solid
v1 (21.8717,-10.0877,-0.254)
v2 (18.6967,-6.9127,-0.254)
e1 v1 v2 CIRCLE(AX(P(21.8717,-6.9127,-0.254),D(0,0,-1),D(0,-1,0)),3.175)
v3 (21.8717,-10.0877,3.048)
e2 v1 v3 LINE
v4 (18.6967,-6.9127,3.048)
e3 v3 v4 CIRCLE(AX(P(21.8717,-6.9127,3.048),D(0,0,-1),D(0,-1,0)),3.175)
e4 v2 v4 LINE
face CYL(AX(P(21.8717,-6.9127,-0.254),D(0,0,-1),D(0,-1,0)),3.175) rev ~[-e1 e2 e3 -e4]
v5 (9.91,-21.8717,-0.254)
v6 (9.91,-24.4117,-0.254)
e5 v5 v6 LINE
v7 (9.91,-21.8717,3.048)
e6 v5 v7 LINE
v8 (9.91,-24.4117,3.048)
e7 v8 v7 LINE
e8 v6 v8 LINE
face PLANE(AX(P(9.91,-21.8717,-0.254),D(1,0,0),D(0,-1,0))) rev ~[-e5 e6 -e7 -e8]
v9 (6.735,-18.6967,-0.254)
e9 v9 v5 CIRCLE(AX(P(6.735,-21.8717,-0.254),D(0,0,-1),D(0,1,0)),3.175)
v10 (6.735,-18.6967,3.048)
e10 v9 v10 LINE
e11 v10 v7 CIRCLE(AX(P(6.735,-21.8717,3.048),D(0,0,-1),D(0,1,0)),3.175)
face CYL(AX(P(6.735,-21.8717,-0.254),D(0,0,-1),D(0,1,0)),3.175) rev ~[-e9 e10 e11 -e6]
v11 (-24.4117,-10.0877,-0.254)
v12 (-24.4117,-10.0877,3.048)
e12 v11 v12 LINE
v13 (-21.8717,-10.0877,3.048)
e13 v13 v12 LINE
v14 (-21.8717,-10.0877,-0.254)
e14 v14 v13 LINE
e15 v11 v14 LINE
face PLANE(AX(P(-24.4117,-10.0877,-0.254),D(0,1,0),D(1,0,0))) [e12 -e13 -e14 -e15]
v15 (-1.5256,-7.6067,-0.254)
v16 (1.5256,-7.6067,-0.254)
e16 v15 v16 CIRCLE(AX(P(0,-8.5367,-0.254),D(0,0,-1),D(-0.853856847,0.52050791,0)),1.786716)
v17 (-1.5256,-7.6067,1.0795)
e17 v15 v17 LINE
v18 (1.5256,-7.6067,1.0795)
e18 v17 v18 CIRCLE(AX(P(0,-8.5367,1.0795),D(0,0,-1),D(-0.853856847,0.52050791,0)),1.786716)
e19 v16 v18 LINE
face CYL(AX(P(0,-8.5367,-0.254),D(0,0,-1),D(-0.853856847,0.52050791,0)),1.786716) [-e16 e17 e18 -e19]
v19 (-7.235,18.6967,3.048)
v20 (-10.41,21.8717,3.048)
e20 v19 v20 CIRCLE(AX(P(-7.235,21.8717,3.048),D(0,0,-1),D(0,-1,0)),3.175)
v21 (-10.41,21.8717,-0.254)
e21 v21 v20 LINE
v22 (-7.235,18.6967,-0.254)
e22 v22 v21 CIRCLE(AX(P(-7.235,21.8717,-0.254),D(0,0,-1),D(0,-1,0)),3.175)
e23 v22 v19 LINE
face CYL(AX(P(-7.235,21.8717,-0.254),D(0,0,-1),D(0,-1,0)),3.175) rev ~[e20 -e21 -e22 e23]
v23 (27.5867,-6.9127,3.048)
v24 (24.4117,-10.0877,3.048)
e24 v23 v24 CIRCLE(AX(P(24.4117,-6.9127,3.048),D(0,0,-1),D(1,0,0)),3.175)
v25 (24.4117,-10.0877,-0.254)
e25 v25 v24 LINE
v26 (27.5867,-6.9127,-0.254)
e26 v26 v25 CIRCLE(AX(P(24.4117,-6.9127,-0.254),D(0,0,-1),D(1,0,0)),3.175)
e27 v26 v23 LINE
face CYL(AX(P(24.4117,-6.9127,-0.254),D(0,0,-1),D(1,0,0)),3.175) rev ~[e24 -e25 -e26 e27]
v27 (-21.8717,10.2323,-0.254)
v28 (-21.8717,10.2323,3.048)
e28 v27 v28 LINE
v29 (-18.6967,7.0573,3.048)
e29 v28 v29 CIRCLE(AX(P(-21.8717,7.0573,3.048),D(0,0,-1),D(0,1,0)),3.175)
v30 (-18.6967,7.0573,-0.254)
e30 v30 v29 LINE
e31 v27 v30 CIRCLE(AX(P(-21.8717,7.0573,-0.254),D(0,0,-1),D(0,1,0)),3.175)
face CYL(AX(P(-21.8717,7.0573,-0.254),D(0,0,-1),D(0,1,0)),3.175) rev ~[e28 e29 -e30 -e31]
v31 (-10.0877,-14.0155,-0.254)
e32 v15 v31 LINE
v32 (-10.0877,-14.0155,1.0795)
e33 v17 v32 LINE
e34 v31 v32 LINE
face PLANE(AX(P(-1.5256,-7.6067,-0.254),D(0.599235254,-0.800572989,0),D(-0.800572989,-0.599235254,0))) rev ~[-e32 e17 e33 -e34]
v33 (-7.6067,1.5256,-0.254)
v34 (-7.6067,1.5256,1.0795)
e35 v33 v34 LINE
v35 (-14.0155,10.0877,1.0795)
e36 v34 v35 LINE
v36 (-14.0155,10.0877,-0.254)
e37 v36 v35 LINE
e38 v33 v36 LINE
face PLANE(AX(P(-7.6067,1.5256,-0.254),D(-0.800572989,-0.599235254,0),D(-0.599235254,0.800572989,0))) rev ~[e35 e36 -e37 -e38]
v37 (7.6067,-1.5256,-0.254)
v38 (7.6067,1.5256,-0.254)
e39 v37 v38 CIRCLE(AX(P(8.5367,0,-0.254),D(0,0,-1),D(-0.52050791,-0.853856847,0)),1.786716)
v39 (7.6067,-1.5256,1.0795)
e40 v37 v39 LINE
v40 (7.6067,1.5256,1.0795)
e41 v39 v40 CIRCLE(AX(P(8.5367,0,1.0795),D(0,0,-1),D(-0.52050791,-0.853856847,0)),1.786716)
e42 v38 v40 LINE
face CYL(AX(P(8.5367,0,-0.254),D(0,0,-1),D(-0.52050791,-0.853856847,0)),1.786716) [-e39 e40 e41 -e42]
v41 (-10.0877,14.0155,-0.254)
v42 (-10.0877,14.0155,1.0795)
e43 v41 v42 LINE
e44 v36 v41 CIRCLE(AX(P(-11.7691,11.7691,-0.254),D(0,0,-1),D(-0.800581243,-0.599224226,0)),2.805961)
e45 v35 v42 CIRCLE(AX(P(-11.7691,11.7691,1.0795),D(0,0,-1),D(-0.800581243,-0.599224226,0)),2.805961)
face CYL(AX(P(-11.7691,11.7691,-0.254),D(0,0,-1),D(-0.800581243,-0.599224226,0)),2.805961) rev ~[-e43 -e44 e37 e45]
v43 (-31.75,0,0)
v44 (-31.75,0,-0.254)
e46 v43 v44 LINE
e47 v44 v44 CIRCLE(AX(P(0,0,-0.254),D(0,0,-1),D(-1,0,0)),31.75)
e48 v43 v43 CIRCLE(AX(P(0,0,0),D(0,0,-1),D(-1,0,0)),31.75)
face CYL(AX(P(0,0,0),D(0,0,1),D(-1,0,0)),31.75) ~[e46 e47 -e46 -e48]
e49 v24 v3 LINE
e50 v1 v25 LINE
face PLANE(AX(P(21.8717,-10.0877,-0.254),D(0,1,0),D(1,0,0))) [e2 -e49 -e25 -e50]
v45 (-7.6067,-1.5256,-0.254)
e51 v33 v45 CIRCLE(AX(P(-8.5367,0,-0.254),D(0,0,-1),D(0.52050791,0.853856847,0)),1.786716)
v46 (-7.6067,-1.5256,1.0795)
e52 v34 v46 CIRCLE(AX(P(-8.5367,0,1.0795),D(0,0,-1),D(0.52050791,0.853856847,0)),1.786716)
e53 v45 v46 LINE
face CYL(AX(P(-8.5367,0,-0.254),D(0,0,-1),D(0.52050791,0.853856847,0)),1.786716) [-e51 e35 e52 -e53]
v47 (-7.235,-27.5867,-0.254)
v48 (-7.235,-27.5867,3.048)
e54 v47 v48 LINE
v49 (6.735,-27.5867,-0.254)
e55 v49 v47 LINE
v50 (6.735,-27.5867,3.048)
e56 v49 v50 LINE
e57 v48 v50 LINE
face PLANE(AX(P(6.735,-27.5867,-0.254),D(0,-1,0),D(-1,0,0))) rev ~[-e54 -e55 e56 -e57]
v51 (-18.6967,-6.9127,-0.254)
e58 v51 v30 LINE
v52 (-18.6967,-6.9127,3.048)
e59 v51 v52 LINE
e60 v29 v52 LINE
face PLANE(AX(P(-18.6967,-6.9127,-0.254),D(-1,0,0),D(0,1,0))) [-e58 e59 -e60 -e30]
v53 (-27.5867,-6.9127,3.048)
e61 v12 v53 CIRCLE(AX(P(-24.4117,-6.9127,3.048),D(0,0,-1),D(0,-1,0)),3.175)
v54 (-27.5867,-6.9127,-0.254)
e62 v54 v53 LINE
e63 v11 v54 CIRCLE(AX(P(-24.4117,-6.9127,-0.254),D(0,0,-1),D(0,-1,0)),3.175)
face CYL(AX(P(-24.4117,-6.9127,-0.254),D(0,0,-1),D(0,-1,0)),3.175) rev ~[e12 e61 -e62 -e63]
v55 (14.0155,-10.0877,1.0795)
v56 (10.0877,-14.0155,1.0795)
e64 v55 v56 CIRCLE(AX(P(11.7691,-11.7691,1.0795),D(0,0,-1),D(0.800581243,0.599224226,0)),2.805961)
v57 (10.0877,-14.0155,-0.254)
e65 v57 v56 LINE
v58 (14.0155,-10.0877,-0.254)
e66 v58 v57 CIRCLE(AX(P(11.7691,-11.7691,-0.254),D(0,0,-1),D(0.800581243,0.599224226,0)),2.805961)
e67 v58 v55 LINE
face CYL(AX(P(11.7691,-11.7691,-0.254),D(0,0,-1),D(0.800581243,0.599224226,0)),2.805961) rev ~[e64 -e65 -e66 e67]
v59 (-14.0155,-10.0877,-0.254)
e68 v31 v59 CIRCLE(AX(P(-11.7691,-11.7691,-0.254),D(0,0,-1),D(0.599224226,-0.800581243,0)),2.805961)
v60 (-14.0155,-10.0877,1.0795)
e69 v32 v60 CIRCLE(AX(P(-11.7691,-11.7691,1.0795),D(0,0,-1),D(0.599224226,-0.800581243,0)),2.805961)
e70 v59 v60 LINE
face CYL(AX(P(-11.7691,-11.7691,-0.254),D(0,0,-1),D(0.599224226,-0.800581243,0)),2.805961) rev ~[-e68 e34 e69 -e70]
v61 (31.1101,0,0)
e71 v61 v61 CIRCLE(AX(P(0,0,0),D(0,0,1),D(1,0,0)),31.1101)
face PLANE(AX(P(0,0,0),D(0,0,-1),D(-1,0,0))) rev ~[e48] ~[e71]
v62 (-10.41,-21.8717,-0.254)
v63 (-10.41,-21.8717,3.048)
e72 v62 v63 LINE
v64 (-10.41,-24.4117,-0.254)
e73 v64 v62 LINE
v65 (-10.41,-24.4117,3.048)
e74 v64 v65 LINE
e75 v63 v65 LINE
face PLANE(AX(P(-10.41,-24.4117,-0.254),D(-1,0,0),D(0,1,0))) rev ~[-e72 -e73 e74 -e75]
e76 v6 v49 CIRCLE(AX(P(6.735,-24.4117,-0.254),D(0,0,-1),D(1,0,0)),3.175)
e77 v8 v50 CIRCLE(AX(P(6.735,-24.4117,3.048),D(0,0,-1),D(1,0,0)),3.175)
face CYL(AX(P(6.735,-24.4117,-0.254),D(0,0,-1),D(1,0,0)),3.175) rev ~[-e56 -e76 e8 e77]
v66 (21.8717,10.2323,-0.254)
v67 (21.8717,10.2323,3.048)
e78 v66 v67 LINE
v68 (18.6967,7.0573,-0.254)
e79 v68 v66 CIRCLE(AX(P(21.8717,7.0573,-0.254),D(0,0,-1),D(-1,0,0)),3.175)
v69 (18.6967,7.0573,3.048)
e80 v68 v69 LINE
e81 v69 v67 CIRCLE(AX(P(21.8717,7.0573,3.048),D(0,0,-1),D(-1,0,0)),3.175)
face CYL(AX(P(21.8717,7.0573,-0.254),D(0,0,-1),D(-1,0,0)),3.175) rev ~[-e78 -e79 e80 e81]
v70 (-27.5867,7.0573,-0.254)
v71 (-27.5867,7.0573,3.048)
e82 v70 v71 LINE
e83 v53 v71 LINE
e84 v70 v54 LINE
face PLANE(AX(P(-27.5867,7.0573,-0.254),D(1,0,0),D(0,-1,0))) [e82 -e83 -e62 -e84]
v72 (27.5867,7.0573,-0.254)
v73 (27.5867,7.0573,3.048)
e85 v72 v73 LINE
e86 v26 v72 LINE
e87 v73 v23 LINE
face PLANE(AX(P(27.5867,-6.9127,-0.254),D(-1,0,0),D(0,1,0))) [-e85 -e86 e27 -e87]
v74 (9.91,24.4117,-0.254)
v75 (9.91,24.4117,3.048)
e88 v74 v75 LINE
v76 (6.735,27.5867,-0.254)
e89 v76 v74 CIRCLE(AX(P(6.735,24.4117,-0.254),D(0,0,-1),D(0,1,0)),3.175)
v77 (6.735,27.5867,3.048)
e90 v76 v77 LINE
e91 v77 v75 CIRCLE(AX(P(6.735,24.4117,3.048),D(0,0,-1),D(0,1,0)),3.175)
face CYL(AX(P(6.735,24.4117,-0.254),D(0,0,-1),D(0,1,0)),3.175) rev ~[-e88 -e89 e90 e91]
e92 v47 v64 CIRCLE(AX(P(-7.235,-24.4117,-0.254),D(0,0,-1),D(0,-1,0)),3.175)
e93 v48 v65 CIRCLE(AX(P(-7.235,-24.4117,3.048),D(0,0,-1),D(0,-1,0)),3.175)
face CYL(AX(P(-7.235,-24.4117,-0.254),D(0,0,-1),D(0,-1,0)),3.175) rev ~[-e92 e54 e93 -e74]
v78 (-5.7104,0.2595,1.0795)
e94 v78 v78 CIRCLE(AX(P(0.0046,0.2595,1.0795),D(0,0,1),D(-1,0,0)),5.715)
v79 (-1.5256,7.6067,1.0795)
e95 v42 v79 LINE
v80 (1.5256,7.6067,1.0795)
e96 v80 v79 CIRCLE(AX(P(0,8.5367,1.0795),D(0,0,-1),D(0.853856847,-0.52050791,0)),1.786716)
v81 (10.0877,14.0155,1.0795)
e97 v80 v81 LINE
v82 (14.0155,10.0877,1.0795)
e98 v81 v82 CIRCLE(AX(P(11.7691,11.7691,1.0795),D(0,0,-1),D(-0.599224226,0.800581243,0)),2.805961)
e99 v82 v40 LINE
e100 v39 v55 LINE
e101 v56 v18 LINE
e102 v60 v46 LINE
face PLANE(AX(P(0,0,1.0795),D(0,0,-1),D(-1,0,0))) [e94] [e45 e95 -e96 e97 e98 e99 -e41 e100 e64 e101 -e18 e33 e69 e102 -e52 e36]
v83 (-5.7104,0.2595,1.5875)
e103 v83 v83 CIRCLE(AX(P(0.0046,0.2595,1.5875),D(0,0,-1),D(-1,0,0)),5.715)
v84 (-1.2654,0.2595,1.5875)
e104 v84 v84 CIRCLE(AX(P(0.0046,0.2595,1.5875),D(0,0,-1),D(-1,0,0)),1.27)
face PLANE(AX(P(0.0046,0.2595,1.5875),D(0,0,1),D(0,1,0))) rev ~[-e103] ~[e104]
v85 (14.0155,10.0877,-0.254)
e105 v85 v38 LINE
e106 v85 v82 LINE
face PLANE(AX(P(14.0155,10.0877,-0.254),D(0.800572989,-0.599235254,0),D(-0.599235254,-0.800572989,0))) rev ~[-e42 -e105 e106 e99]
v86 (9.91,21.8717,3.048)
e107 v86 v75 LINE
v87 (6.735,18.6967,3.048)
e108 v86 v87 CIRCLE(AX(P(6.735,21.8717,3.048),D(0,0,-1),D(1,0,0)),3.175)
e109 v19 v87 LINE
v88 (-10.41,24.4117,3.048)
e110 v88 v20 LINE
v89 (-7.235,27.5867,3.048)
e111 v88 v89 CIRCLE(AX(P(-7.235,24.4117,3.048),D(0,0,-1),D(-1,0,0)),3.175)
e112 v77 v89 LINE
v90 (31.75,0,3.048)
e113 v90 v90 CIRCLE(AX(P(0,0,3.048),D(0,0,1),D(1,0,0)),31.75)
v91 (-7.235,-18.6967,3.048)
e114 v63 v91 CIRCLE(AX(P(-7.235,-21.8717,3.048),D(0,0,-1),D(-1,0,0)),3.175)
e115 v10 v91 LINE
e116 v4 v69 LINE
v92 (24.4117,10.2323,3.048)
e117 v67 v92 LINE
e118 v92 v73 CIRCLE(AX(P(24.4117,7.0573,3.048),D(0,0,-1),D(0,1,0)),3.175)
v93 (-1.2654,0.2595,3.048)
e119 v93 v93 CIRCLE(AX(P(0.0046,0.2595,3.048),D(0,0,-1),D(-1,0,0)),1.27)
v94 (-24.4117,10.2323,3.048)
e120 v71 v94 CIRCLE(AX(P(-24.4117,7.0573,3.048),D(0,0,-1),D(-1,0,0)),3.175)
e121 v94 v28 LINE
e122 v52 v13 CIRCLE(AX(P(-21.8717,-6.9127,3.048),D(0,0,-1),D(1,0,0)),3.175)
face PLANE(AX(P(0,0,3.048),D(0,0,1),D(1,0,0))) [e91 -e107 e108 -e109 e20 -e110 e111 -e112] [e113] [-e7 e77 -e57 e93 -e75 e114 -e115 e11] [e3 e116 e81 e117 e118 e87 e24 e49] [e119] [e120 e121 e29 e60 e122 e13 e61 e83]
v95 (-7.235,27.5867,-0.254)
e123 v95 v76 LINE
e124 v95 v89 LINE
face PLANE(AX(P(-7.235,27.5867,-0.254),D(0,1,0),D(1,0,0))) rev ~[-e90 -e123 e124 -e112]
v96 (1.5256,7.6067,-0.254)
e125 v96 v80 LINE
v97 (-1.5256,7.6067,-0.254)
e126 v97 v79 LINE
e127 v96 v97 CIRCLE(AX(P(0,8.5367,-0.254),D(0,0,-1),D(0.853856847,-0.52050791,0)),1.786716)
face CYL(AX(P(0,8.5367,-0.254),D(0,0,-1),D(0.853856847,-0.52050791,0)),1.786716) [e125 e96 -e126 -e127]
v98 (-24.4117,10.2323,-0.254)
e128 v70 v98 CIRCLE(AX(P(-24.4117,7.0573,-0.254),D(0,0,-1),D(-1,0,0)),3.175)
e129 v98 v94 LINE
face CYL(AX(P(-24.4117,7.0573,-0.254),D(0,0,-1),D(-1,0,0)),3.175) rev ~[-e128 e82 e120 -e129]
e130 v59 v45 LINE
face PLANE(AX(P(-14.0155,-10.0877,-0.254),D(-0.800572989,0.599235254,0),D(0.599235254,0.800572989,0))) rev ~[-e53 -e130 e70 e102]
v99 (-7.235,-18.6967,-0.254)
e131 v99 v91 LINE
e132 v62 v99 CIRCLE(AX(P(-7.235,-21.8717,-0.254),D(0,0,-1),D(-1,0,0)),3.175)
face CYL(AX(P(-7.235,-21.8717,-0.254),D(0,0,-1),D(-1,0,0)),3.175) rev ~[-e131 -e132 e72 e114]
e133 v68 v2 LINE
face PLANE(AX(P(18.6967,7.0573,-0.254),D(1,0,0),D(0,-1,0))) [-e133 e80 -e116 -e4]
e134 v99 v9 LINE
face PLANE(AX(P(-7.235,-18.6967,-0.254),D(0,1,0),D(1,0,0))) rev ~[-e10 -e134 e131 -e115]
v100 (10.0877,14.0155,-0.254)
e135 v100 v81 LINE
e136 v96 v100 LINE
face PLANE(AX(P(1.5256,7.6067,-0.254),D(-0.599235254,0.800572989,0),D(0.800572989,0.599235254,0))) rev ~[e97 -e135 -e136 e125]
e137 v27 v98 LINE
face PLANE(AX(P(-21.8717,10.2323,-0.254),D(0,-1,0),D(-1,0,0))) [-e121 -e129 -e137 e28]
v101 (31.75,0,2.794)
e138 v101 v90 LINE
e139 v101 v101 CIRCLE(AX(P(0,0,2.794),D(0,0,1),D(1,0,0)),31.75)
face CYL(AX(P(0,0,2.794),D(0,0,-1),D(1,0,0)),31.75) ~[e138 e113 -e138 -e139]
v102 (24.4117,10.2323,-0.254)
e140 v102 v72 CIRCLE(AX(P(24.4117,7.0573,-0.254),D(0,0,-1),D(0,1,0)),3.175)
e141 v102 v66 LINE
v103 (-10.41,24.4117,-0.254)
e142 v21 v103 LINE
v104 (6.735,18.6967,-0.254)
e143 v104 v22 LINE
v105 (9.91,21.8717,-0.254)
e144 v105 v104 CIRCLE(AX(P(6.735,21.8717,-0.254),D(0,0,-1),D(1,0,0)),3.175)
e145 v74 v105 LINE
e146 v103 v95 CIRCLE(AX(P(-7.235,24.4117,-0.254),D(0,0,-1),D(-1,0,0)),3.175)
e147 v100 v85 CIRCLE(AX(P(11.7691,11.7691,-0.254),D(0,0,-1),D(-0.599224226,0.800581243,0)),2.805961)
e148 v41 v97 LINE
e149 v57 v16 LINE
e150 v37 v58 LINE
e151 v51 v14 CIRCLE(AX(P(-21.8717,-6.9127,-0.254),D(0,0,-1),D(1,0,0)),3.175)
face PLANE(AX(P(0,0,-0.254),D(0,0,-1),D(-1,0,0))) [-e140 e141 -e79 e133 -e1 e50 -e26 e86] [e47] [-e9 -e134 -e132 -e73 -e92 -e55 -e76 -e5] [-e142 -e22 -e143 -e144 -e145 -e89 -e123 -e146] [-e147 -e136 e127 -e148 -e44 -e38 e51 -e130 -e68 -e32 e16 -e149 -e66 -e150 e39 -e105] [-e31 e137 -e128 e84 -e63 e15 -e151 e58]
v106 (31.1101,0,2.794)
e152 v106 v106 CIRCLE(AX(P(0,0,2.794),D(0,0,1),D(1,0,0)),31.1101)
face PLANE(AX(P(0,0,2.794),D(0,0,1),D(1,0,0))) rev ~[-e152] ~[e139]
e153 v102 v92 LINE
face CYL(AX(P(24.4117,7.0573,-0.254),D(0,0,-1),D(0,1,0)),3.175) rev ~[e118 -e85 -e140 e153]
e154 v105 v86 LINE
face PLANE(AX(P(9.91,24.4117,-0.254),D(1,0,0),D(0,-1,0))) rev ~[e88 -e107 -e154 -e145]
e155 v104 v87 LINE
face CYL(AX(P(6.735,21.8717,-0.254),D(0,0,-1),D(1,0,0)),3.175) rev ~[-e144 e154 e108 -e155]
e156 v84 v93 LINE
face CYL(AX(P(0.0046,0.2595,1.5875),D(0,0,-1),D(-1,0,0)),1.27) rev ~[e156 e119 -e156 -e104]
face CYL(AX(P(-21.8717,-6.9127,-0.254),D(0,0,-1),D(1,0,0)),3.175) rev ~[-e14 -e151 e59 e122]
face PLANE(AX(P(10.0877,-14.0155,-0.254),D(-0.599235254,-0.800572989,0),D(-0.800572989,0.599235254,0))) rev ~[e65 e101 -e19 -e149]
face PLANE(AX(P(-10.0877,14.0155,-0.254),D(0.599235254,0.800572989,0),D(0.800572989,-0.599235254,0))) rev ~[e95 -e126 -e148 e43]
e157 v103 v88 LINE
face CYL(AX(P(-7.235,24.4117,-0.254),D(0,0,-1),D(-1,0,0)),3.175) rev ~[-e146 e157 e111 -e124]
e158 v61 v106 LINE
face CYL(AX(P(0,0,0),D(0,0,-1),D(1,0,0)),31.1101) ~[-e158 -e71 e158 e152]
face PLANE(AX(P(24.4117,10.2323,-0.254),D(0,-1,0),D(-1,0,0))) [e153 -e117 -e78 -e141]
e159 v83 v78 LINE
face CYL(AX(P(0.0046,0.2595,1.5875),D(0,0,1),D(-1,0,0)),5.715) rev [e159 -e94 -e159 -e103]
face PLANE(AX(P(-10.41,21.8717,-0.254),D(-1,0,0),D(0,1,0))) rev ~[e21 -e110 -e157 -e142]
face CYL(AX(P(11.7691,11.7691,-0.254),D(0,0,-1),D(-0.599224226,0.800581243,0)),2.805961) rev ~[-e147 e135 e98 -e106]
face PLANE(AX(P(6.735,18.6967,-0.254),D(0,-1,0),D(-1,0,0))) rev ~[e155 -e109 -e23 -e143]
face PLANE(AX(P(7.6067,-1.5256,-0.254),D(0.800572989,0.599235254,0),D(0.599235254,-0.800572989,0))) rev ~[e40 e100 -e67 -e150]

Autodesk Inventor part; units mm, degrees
ref_plane "YZ Plane" through (0, 0, 0) normal (1, 0, 0) x (0, 1, 0)
ref_plane "XZ Plane" through (0, 0, 0) normal (0, 1, 0) x (-1, 0, 0)
ref_plane "XY Plane" through (0, 0, 0) normal (0, 0, 1) x (1, 0, 0)
sketch "Sketch1" plane through (0, 0, 0) normal (0, 0, 1) x (1, 0, 0)
  circle A0 centre (0, 0) radius 31.1101
extrude "Extrusion1" add sketch "Sketch1" along normal blind 2.794
sketch "Sketch2" plane through (0, 0, 0) normal (0, 0, -1) x (-1, 0, 0)
  circle A0 centre (0, 0) radius 31.75
  dimension "d2" = 63.5
extrude "Extrusion2" add sketch "Sketch2" along normal blind 0.254
sketch "Sketch3" plane through (0, 0, 2.794) normal (0, 0, 1) x (1, 0, 0)
  circle A0 centre (0, 0) radius 31.75
  dimension "d5" = 63.5
extrude "Extrusion3" add sketch "Sketch3" along normal blind 0.254
sketch "Sketch4" plane through (0, 0, -0.254) normal (0, 0, -1) x (-1, 0, 0)
  arc A0 (-1.5256, 7.6067) -> (1.5256, 7.6067) centre (0, 8.5367) ccw
  line L0 (-1.5256, 7.6067) -> (-10.0877, 14.0155)
  arc A1 (-10.0877, 14.0155) -> (-14.0155, 10.0877) centre (-11.7691, 11.7691) ccw
  line L1 (-14.0155, 10.0877) -> (-7.6067, 1.5256)
  arc A2 (-7.6067, -1.5256) -> (-7.6067, 1.5256) centre (-8.5367, 0) ccw
  line L2 (-7.6067, -1.5256) -> (-14.0155, -10.0877)
  arc A3 (-14.0155, -10.0877) -> (-10.0877, -14.0155) centre (-11.7691, -11.7691) ccw
  line L3 (-10.0877, -14.0155) -> (-1.5256, -7.6067)
  arc A4 (1.5256, -7.6067) -> (-1.5256, -7.6067) centre (0, -8.5367) ccw
  line L4 (1.5256, -7.6067) -> (10.0877, -14.0155)
  arc A5 (10.0877, -14.0155) -> (14.0155, -10.0877) centre (11.7691, -11.7691) ccw
  line L5 (14.0155, -10.0877) -> (7.6067, -1.5256)
  arc A6 (7.6067, 1.5256) -> (7.6067, -1.5256) centre (8.5367, 0) ccw
  line L6 (7.6067, 1.5256) -> (14.0155, 10.0877)
  arc A7 (14.0155, 10.0877) -> (10.0877, 14.0155) centre (11.7691, 11.7691) ccw
  line L7 (10.0877, 14.0155) -> (1.5256, 7.6067)
  circle A8 centre (0, 0) radius 5.27
  circle A9 centre (-4.9144, 4.9144) radius 0.75
  circle A10 centre (-7.3893, 7.3893) radius 0.75
  circle A11 centre (-9.8641, 9.8641) radius 0.75
  circle A12 centre (-12.339, 12.339) radius 0.75
  circle A13 centre (-4.9144, -4.9144) radius 0.75
  circle A14 centre (-7.3893, -7.3893) radius 0.75
  circle A15 centre (-9.8641, -9.8641) radius 0.75
  circle A16 centre (-12.339, -12.339) radius 0.75
  circle A17 centre (4.9144, -4.9144) radius 0.75
  circle A18 centre (7.3893, -7.3893) radius 0.75
  circle A19 centre (9.8641, -9.8641) radius 0.75
  circle A20 centre (12.339, -12.339) radius 0.75
  circle A21 centre (4.9144, 4.9144) radius 0.75
  circle A22 centre (7.3893, 7.3893) radius 0.75
  circle A23 centre (9.8641, 9.8641) radius 0.75
  circle A24 centre (12.339, 12.339) radius 0.75
extrude "Extrusion4" cut sketch "Sketch4" against normal blind 1.3335 contours A0 L7 A7 L6 A6 L5 A5 L4 A4 L3 A3 L2 A2 L1 A1 L0 | A8 | A9 | A10 | A11 | A12 | A13 | A14 | A15 | A16 | A17 | A18 | A19 | A20 | A21 | A22 | A23 | A24
sketch "Sketch5" plane through (0, 0, -0.254) normal (0, 0, -1) x (-1, 0, 0)
  point P0 (0, 0)
hole "Hole1" at (0, 0, -0.254) direction (0, 0, 1) diameter 10.541 depth 1.5875
hole "Hole2" at (0.0046, 0.2595, 1.3335) direction (0, 0, 1) diameter 10.541 depth 0.254
sketch "Sketch6" plane through (0, 0, -0.254) normal (0, 0, -1) x (-1, 0, 0)
  line L0 (-6.735, 18.6967) -> (7.235, 18.6967)
  line L1 (10.41, 21.8717) -> (10.41, 24.4117)
  line L2 (7.235, 27.5867) -> (-6.735, 27.5867)
  line L3 (-9.91, 24.4117) -> (-9.91, 21.8717)
  line L4 (21.8717, 10.2323) -> (24.4117, 10.2323)
  line L5 (27.5867, 7.0573) -> (27.5867, -6.9127)
  line L6 (24.4117, -10.0877) -> (21.8717, -10.0877)
  line L7 (18.6967, -6.9127) -> (18.6967, 7.0573)
  arc A0 (7.6067, 1.5256) -> (7.6067, -1.5256) centre (8.5367, 0) ccw projected
  arc A1 (-1.5256, 7.6067) -> (1.5256, 7.6067) centre (0, 8.5367) ccw projected
  line L8 (-21.8717, -10.0877) -> (-24.4117, -10.0877)
  line L9 (-27.5867, -6.9127) -> (-27.5867, 7.0573)
  line L10 (-24.4117, 10.2323) -> (-21.8717, 10.2323)
  line L11 (-18.6967, 7.0573) -> (-18.6967, -6.9127)
  arc A2 (-7.6067, -1.5256) -> (-7.6067, 1.5256) centre (-8.5367, 0) ccw projected
  line L12 (7.235, -18.6967) -> (-6.735, -18.6967)
  line L13 (-9.91, -21.8717) -> (-9.91, -24.4117)
  line L14 (-6.735, -27.5867) -> (7.235, -27.5867)
  line L15 (10.41, -24.4117) -> (10.41, -21.8717)
  arc A3 (1.5256, -7.6067) -> (-1.5256, -7.6067) centre (0, -8.5367) ccw projected
  arc A4 (27.5867, 7.0573) -> (24.4117, 10.2323) centre (24.4117, 7.0573) ccw
  arc A5 (24.4117, -10.0877) -> (27.5867, -6.9127) centre (24.4117, -6.9127) ccw
  arc A6 (18.6967, -6.9127) -> (21.8717, -10.0877) centre (21.8717, -6.9127) ccw
  arc A7 (21.8717, 10.2323) -> (18.6967, 7.0573) centre (21.8717, 7.0573) ccw
  arc A8 (7.235, -27.5867) -> (10.41, -24.4117) centre (7.235, -24.4117) ccw
  arc A9 (-9.91, -24.4117) -> (-6.735, -27.5867) centre (-6.735, -24.4117) ccw
  arc A10 (-6.735, -18.6967) -> (-9.91, -21.8717) centre (-6.735, -21.8717) ccw
  arc A11 (10.41, -21.8717) -> (7.235, -18.6967) centre (7.235, -21.8717) ccw
  arc A12 (-6.735, 27.5867) -> (-9.91, 24.4117) centre (-6.735, 24.4117) ccw
  arc A13 (10.41, 24.4117) -> (7.235, 27.5867) centre (7.235, 24.4117) ccw
  arc A14 (-9.91, 21.8717) -> (-6.735, 18.6967) centre (-6.735, 21.8717) ccw
  arc A15 (7.235, 18.6967) -> (10.41, 21.8717) centre (7.235, 21.8717) ccw
  arc A16 (-27.5867, -6.9127) -> (-24.4117, -10.0877) centre (-24.4117, -6.9127) ccw
  arc A17 (-24.4117, 10.2323) -> (-27.5867, 7.0573) centre (-24.4117, 7.0573) ccw
  arc A18 (-21.8717, -10.0877) -> (-18.6967, -6.9127) centre (-21.8717, -6.9127) ccw
  arc A19 (-18.6967, 7.0573) -> (-21.8717, 10.2323) centre (-21.8717, 7.0573) ccw
  circle A20 centre (0, 0) radius 1.27
  point P0 (-9.91, 18.6967)
  point P1 (10.41, 27.5867)
  point P2 (10.41, 18.6967)
  point P3 (-9.91, 27.5867)
  point P4 (18.6967, 10.2323)
  point P5 (27.5867, -10.0877)
  point P6 (27.5867, 10.2323)
  point P7 (18.6967, -10.0877)
  point P8 (-18.6967, -10.0877)
  point P9 (-27.5867, 10.2323)
  point P10 (-27.5867, -10.0877)
  point P11 (-18.6967, 10.2323)
  point P12 (10.41, -18.6967)
  point P13 (-9.91, -27.5867)
  point P14 (-9.91, -18.6967)
  point P15 (10.41, -27.5867)
  dimension "d26" = 10.16
  dimension "d27" = 8.89
  dimension "d28" = 20.32
  dimension "d29" = 10.16
  dimension "d30" = 20.32
  dimension "d31" = 8.89
  dimension "d32" = 10.16
  dimension "d33" = 20.32
  dimension "d34" = 8.89
  dimension "d35" = 10.16
  dimension "d36" = 8.89
  dimension "d37" = 20.32
  dimension "d40" = 3.175
  dimension "d41" = 2.54
extrude "Extrusion5" cut sketch "Sketch6" against normal blind 38.1 contours A14 L3 A12 L2 A13 L1 A15 L0 | L4 A4 L5 A5 L6 A6 L7 A7 | L8 A16 L9 A17 L10 A19 L11 A18 | A11 L15 A8 L14 A9 L13 A10 L12
sketch "Sketch7" plane through (0.0046, 0.2595, 1.5875) normal (0, 0, -1) x (-1, 0, 0)
  circle A0 centre (0, 0) radius 1.27
  point P0 (0.0046, -0.2595)
  dimension "d42" = 2.54
extrude "Extrusion6" cut sketch "Sketch7" along normal mid plane 25.4
sketch "Sketch8" plane through (0.0046, 0.2595, 1.5875) normal (0, 0, -1) x (-1, 0, 0)
  circle A0 centre (0, 0) radius 5.4861
  point P0 (0.0046, -0.2595)
extrude "Extrusion7" cut sketch "Sketch8" along normal blind 1.5875
sketch "Sketch9" plane through (0.0046, 0.2595, 1.5875) normal (0, 0, -1) x (-1, 0, 0)
  circle A0 centre (0, 0) radius 5.715
  point P0 (0.0046, -0.2595)
  dimension "d47" = 11.43
extrude "Extrusion8" cut sketch "Sketch9" along normal blind 25.4
properties part number "RTS  Wheel"
